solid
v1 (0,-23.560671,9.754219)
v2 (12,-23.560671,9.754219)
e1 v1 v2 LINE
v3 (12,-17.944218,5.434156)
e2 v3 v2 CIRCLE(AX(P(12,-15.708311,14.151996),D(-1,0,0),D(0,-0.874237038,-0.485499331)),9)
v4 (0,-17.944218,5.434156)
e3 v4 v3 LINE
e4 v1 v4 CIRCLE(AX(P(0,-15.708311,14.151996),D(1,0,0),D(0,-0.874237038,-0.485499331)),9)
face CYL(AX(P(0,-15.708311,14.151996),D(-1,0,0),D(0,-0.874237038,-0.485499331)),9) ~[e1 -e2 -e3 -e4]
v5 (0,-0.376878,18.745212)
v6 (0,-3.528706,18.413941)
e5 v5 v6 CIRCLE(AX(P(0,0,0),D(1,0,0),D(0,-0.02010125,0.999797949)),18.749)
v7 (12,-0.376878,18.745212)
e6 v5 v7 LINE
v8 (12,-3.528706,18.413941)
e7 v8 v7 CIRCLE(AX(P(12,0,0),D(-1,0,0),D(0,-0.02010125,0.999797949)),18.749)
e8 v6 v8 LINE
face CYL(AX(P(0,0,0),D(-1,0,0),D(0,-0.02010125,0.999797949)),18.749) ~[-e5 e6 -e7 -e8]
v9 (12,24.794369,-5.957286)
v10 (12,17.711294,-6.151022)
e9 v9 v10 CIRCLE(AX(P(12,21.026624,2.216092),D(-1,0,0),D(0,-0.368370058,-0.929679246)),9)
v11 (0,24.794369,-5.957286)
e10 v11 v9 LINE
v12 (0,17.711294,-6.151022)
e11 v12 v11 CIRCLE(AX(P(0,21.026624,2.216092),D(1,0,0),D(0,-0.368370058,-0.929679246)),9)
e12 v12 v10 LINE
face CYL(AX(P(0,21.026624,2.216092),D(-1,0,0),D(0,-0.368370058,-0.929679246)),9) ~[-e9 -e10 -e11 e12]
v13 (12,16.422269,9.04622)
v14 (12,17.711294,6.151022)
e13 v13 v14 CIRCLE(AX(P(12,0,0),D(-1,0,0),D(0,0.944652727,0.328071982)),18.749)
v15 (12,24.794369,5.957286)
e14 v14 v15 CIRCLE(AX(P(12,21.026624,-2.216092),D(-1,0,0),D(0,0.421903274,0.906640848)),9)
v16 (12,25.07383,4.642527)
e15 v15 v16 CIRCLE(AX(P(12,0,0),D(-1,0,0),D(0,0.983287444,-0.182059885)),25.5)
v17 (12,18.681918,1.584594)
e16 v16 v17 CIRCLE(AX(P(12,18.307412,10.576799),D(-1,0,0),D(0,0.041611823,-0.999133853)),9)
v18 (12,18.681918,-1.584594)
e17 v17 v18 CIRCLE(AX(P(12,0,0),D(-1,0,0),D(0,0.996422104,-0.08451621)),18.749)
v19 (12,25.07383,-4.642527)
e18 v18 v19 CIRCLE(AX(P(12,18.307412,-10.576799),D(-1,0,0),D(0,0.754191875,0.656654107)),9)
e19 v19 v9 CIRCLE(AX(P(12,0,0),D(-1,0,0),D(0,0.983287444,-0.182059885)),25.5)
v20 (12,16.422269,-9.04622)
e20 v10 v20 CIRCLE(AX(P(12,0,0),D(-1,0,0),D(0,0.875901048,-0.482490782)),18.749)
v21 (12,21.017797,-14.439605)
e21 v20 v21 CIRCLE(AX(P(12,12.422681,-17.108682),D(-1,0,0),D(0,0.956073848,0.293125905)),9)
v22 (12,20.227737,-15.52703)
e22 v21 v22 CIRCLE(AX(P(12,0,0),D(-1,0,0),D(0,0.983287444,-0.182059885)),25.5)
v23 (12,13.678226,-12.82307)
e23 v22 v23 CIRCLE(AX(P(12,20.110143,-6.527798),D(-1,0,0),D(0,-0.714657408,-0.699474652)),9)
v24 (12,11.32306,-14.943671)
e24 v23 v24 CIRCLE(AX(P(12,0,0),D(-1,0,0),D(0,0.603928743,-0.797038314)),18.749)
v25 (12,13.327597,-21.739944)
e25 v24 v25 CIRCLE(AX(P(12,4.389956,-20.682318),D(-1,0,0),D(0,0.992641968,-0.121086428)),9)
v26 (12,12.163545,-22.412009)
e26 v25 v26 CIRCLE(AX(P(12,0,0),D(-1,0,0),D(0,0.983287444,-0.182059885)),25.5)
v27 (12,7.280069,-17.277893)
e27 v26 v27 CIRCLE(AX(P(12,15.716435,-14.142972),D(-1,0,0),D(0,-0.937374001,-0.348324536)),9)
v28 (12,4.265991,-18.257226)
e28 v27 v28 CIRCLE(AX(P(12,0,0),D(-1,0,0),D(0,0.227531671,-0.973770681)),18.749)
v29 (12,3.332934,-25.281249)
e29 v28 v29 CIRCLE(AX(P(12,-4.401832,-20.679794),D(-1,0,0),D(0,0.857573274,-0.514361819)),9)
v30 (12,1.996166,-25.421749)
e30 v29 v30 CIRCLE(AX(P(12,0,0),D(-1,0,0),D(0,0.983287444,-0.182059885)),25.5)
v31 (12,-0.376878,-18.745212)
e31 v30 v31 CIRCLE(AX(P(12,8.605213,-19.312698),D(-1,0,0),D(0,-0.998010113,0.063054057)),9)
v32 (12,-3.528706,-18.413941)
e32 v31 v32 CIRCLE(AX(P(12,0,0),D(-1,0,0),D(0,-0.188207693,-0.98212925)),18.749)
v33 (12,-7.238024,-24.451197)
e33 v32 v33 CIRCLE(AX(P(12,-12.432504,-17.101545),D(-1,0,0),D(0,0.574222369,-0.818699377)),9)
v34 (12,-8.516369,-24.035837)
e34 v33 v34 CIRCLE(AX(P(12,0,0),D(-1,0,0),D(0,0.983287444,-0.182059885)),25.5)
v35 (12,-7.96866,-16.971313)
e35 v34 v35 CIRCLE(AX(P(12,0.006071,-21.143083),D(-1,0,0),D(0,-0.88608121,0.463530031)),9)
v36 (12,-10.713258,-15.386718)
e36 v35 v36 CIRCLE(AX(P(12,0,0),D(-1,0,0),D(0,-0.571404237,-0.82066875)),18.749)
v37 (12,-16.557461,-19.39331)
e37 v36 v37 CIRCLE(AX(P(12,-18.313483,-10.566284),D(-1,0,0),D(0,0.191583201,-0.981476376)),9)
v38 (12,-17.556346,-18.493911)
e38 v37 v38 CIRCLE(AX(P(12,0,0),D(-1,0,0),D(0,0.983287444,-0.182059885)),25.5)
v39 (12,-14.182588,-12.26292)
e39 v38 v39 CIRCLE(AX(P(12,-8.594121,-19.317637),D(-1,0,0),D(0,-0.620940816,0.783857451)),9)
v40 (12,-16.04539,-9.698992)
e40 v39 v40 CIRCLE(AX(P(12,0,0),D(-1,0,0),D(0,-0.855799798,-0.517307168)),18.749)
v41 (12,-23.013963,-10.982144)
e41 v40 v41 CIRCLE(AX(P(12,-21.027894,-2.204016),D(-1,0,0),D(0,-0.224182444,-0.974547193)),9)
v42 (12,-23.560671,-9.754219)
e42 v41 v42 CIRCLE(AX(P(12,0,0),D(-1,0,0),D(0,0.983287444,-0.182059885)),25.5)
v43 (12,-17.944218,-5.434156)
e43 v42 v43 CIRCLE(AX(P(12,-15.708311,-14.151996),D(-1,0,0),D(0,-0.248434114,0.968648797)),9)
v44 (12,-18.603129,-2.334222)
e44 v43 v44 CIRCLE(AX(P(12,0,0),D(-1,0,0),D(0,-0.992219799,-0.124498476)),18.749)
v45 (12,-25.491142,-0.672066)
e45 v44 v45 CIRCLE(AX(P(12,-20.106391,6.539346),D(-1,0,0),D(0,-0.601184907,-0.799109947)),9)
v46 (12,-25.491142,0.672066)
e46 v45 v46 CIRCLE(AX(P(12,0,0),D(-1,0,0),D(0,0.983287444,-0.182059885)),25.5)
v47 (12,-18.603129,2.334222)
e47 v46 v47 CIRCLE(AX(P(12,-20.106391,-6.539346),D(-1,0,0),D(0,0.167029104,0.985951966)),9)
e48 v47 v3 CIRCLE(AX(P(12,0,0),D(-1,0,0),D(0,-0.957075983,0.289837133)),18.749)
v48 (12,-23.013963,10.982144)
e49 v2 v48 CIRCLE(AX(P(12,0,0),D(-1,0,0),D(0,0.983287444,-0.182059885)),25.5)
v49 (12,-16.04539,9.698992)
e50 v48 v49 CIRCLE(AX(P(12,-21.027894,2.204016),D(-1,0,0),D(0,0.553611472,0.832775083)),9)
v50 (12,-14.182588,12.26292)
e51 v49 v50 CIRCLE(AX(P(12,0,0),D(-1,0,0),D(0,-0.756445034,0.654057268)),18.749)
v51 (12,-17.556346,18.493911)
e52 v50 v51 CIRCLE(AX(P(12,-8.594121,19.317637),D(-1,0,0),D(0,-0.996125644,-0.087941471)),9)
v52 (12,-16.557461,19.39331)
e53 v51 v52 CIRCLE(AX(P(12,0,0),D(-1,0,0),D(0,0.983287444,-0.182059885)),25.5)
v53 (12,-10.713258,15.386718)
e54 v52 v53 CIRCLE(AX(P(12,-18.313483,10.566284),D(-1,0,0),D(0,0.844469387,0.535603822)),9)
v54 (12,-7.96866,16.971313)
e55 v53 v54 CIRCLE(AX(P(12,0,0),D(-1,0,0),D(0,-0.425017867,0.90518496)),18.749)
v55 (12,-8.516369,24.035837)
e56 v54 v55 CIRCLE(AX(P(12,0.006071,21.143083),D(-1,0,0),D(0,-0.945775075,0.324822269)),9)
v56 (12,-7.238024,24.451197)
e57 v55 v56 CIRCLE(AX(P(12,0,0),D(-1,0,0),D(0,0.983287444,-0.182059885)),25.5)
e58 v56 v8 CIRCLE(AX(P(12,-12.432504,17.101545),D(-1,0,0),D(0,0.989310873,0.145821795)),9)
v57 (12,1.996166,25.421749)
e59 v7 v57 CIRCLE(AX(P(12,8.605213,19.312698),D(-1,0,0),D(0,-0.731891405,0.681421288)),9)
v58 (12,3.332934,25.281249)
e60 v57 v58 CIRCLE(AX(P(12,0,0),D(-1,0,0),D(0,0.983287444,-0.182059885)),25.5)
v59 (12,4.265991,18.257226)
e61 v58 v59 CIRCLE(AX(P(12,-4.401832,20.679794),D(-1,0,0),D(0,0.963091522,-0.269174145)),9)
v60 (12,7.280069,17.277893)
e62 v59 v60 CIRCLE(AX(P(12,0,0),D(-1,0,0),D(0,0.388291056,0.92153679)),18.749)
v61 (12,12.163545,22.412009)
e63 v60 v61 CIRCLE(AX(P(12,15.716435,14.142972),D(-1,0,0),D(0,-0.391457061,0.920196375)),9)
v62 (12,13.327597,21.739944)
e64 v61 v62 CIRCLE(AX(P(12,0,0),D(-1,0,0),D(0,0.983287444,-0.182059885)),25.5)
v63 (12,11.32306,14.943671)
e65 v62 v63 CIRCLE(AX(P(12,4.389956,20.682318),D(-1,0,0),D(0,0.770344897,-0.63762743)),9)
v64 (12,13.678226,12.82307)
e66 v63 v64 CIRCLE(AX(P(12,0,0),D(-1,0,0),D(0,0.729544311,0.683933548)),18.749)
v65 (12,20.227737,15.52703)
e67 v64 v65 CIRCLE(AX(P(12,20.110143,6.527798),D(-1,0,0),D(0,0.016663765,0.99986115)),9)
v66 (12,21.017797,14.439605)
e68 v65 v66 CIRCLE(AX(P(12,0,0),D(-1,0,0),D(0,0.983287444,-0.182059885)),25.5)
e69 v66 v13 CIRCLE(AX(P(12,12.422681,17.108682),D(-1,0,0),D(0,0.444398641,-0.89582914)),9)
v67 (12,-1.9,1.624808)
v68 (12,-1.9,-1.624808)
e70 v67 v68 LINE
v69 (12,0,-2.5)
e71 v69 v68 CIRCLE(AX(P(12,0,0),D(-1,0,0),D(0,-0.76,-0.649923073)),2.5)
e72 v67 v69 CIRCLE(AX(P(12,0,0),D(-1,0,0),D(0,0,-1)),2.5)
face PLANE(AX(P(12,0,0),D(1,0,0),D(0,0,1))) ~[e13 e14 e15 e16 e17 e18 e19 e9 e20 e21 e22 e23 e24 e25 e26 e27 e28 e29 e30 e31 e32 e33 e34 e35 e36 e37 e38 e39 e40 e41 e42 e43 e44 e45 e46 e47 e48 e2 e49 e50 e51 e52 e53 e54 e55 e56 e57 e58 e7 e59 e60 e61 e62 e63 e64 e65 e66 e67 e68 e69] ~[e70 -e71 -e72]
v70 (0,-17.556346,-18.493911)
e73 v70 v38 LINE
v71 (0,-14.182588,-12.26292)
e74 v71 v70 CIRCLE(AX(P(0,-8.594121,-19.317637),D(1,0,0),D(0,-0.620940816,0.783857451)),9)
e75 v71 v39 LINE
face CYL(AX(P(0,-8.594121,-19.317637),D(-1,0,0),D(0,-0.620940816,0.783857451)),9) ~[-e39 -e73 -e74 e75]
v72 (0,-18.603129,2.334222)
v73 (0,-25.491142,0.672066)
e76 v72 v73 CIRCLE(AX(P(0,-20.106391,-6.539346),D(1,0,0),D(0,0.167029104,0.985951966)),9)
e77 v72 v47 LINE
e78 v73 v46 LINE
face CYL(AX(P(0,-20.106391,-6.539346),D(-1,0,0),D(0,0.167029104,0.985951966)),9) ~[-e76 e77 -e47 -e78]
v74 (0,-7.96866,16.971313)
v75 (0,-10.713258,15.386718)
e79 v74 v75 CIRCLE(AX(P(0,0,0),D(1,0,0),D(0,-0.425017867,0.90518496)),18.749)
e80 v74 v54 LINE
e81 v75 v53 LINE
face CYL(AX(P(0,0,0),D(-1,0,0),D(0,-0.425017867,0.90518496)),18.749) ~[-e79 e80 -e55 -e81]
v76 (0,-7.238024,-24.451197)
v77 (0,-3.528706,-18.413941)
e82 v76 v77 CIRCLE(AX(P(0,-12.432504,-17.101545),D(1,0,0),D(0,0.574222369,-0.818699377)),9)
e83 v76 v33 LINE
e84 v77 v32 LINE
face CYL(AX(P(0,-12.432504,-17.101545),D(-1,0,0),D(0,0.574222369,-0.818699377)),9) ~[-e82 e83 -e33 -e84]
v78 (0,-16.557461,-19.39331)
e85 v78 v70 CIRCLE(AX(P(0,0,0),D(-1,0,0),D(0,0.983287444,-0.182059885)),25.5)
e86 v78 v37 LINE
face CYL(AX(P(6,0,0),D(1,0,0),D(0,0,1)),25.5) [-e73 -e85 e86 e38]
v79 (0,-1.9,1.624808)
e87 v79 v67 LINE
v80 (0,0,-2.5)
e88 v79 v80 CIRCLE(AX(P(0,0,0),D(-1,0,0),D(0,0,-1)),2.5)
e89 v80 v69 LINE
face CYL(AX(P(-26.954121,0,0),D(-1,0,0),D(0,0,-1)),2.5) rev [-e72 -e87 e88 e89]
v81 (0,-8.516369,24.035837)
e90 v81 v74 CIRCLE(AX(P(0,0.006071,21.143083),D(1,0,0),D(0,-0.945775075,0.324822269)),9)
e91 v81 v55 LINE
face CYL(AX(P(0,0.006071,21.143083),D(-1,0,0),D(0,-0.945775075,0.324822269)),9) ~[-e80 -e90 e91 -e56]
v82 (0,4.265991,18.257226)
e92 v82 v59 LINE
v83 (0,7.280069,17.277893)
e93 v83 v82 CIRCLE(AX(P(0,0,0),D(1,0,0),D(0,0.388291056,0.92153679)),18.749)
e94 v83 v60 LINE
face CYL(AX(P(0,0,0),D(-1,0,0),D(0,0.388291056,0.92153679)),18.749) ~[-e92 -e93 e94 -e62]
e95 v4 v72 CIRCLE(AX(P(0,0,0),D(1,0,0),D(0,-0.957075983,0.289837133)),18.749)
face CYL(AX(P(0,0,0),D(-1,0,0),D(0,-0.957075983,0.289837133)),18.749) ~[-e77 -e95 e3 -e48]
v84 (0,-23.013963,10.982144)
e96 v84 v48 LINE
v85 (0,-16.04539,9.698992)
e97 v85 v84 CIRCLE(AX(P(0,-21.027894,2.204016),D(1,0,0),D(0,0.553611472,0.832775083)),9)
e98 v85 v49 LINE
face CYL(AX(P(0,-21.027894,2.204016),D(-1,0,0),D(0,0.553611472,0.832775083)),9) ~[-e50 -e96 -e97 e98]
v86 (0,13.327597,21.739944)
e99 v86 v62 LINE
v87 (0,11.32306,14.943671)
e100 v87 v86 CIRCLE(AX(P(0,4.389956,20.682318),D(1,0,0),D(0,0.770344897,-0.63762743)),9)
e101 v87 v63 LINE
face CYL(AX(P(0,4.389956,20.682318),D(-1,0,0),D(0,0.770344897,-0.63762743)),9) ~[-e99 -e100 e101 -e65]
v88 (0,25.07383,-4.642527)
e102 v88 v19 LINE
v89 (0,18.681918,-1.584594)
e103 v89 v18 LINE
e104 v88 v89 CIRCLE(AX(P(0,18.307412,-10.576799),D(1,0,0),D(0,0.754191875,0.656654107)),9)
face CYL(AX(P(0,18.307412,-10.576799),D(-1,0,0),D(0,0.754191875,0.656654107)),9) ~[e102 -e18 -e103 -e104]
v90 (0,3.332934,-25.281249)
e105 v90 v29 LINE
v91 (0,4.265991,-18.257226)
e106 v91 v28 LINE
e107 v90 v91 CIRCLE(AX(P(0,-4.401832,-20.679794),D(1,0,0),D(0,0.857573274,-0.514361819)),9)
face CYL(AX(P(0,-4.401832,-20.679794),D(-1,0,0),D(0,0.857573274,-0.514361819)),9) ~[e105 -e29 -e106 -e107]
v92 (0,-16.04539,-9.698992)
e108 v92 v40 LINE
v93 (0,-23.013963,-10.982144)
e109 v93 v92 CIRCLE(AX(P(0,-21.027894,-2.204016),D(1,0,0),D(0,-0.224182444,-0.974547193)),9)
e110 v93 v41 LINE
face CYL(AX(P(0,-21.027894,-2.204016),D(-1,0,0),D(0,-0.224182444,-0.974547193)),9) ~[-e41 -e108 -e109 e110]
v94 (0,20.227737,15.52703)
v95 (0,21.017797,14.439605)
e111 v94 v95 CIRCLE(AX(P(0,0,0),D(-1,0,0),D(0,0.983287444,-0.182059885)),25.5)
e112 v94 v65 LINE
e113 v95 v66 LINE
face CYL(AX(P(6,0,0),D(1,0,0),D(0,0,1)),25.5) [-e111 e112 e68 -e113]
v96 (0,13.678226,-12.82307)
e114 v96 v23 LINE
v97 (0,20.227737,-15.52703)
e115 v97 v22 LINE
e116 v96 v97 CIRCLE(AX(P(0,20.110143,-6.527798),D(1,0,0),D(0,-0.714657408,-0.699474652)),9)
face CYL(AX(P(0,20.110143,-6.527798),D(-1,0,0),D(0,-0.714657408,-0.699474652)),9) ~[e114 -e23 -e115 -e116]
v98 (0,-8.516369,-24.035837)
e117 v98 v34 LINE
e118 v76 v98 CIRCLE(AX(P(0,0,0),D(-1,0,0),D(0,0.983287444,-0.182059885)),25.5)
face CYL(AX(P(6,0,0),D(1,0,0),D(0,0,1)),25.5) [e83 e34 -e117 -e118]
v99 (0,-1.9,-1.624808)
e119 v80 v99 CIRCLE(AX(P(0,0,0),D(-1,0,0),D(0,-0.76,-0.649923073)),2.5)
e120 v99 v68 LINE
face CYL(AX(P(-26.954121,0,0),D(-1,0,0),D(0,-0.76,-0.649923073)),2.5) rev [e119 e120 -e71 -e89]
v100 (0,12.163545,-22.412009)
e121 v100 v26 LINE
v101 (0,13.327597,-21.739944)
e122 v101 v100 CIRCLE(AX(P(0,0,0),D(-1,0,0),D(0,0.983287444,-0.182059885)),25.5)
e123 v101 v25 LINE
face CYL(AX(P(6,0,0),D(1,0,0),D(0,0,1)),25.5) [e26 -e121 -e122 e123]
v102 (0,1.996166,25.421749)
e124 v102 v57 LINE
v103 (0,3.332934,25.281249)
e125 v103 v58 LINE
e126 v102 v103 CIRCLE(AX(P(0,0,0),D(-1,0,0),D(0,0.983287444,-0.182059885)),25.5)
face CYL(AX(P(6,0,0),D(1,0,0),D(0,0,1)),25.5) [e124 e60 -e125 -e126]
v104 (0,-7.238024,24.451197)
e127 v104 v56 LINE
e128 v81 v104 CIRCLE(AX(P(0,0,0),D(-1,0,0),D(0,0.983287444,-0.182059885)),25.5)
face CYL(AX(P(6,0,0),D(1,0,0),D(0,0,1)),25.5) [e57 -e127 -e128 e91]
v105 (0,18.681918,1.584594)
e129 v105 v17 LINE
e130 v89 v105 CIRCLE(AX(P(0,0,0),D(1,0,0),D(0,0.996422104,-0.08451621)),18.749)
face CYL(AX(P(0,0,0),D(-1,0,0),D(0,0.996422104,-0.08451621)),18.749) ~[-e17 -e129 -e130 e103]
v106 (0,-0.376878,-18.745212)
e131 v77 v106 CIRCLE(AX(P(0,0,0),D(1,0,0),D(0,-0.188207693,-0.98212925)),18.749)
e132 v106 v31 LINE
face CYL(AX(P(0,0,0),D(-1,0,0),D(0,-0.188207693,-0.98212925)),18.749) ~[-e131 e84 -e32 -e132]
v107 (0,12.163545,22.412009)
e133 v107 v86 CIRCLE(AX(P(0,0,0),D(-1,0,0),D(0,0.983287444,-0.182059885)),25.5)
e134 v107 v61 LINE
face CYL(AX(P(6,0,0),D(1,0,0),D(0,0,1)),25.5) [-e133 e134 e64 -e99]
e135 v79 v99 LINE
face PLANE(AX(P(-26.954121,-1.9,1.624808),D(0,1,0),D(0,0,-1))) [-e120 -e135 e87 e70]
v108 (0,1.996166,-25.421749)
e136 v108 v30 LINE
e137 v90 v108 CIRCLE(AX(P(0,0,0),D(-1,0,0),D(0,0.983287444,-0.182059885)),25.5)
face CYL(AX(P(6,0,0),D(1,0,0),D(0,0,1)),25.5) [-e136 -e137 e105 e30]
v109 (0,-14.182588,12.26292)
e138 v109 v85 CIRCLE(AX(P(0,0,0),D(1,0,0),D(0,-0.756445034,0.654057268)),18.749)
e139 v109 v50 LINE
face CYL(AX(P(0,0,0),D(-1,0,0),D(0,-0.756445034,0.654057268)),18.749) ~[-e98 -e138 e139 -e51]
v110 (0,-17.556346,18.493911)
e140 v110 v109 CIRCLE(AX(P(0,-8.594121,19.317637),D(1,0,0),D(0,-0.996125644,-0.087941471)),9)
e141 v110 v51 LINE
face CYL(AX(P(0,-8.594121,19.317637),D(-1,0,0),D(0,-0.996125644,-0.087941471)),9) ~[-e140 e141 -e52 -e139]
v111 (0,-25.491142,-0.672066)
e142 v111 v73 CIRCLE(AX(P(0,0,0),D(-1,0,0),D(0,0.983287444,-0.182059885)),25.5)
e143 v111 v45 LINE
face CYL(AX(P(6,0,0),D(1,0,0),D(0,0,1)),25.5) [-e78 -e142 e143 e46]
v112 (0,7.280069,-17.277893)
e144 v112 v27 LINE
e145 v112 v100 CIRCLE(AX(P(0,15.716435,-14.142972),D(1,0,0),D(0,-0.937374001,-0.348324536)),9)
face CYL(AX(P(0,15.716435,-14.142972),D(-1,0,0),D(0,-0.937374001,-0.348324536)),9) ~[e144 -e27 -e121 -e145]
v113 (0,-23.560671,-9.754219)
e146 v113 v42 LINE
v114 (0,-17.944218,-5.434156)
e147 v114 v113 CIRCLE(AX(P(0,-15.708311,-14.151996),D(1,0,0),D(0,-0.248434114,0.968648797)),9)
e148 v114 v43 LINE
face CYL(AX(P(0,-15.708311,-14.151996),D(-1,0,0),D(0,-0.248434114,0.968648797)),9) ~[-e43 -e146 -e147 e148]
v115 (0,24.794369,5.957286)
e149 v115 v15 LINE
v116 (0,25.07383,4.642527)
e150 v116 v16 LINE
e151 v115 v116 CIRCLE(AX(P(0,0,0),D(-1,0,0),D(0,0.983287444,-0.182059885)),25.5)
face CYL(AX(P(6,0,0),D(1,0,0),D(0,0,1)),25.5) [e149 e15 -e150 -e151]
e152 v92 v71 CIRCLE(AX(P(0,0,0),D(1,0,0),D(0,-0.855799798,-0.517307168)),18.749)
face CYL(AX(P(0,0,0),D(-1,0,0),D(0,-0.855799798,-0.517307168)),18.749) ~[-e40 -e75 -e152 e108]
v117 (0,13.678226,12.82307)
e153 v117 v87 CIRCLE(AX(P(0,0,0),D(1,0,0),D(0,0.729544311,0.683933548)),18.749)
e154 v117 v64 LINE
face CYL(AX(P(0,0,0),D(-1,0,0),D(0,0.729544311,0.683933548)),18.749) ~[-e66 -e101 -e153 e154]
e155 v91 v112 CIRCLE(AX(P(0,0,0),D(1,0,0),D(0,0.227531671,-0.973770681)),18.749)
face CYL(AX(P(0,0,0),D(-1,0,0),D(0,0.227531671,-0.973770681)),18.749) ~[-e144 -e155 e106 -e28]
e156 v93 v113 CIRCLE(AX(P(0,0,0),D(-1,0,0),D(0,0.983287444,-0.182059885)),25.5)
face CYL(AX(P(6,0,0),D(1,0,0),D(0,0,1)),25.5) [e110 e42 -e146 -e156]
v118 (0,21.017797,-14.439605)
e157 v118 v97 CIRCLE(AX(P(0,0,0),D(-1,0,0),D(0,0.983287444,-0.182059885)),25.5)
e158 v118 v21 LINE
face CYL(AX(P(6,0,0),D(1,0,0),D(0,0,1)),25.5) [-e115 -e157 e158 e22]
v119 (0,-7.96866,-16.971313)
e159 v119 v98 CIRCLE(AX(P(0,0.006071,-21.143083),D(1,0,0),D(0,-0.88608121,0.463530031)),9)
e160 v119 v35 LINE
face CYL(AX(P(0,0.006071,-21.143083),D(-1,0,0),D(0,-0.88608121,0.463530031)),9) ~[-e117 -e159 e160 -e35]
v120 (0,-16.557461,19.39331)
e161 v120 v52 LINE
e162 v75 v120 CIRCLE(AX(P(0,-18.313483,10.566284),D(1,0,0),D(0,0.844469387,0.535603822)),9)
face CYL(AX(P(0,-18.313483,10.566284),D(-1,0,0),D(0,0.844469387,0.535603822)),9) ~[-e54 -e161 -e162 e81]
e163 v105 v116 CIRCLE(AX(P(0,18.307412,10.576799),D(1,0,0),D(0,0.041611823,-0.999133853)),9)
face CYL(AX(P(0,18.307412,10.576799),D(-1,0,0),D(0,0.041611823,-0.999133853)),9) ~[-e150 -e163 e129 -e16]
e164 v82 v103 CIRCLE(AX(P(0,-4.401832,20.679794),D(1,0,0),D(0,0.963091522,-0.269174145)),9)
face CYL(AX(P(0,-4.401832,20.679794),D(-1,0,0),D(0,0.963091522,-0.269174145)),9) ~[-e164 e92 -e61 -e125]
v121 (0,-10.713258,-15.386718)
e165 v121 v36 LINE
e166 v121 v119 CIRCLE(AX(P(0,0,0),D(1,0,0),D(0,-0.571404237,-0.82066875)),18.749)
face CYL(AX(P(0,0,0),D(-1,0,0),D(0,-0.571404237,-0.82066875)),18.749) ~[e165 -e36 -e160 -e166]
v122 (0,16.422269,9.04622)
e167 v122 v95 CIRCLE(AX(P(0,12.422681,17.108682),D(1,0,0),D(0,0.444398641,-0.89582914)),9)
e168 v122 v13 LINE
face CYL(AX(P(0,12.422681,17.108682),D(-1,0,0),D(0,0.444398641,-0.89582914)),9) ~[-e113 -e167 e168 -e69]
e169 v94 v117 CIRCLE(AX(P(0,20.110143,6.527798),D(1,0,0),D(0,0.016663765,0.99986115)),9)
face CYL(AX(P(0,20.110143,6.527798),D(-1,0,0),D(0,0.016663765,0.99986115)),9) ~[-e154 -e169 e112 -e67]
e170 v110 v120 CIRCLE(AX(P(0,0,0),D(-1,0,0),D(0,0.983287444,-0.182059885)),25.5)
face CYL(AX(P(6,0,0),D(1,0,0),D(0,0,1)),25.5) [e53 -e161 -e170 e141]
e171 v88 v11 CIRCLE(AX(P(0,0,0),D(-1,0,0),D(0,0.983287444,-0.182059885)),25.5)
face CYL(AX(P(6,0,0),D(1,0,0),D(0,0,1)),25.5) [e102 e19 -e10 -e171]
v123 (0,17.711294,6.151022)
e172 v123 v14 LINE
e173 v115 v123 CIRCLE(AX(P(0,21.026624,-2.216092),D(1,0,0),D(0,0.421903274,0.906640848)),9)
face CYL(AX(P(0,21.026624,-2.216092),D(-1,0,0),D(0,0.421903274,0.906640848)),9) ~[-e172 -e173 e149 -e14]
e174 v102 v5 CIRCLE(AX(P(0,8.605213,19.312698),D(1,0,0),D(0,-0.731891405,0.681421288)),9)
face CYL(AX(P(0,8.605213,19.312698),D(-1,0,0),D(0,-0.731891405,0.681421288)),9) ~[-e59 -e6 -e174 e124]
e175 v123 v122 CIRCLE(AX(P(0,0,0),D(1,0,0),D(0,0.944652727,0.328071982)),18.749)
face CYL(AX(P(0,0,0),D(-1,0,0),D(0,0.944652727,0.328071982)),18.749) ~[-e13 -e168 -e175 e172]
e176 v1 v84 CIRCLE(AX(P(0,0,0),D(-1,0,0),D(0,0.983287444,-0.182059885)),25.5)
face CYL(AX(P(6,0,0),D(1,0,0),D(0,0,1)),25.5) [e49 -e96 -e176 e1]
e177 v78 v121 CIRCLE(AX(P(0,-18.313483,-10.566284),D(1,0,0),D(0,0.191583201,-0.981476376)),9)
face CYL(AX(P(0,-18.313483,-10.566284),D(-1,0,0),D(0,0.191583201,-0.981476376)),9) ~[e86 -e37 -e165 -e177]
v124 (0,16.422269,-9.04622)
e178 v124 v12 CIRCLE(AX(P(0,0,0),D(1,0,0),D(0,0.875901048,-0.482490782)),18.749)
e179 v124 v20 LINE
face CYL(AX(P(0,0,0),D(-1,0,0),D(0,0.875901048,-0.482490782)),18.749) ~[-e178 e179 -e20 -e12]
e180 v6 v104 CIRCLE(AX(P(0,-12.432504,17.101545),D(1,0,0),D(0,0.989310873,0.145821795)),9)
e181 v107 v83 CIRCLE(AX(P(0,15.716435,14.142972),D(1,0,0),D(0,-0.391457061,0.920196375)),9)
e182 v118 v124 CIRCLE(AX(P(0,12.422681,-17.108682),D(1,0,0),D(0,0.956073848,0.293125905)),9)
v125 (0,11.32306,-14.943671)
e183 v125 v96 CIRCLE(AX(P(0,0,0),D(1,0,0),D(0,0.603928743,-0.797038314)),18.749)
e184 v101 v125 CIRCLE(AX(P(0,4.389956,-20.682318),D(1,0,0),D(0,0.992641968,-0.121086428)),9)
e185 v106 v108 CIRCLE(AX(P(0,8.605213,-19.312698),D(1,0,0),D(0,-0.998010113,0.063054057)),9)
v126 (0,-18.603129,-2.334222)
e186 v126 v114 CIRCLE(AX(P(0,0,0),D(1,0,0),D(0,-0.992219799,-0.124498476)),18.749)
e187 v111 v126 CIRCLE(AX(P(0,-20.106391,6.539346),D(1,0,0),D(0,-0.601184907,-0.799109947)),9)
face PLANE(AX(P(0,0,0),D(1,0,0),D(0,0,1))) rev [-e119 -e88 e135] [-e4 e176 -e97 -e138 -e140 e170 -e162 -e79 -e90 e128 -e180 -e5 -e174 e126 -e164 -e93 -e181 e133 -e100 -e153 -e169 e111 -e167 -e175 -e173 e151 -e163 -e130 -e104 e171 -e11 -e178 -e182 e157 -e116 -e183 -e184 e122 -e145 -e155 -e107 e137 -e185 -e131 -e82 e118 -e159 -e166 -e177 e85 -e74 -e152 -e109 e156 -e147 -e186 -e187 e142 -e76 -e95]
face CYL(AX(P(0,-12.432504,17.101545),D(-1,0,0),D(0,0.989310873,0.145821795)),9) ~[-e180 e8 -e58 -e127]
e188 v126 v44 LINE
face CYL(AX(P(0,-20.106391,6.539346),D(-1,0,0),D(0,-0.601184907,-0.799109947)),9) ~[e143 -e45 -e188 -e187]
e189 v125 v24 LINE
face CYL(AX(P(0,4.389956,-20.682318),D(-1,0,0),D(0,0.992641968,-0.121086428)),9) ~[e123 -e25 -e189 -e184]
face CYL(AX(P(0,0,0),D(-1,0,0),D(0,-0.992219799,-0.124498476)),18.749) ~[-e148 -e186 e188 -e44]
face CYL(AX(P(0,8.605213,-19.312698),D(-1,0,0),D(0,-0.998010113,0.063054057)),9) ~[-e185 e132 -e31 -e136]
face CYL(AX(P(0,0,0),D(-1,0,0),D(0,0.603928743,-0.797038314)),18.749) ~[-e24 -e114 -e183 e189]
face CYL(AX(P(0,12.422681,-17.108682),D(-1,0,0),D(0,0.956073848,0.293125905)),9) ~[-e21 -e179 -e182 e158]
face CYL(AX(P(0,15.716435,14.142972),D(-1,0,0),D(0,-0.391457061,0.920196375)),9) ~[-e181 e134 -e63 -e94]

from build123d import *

# Parameters (mm, degrees)
BASPROSKE_W             = 12
BASPROSKE_H             = 25.5
TOOTHCUT_DEPTH          = 39.006578378
TEETHCUTS_COUNT         = 15
TEETHCUTS_ANGLE         = 336
BORSKE_R                = 0.4
BORE_DEPTH              = 50.0000508
CUT_EXTRUDE1_DEPTH      = 38.954121274
CUT_EXTRUDE1_DEPTH_BACK = 38.954121274


with BuildPart() as part:
    # BasProSke → Base-Revolve (revolve)
    with BuildSketch(Plane(origin=(0, 0, 0), x_dir=(1, 0, 0), z_dir=(0, 1, 0)), mode=Mode.PRIVATE) as base_revolve_sk:
        with Locations((6, 12.75)):
            Rectangle(BASPROSKE_W, BASPROSKE_H)
    revolve(base_revolve_sk.sketch.rotate(Axis((-10, 0, 0), (1, 0, 0)), 180), axis=Axis((-10, 0, 0), (1, 0, 0)))

    # TooCutSke → ToothCut (cut, through all)
    with BuildSketch(Plane(origin=(0, 0, 0), x_dir=(0, 0, -1), z_dir=(1, 0, 0))):
        with BuildLine():
            ThreePointArc((1.584594428, 18.681918036), (0, 18.749), (-1.584594428, 18.681918036))
            ThreePointArc((-1.584594428, 18.681918036), (-2.465052499, 22.206073835), (-4.666912141, 25.095138498))
            ThreePointArc((-4.666912141, 25.095138498), (0, 25.5254), (4.666912141, 25.095138498))
            ThreePointArc((4.666912141, 25.095138498), (2.465052499, 22.206073835), (1.584594428, 18.681918036))
        make_face()
    toothcut = extrude(amount=TOOTHCUT_DEPTH, mode=Mode.SUBTRACT)

    # TeethCuts: ToothCut ×15 about axis
    teethcuts_axis = Axis((-10, 0, 0), (1, 0, 0))
    for i in range(1, TEETHCUTS_COUNT):
        add(toothcut.rotate(teethcuts_axis, i * TEETHCUTS_ANGLE / (TEETHCUTS_COUNT - 1)), mode=Mode.SUBTRACT)

    # BorSke → Bore (cut, symmetric)
    with BuildSketch(Plane(origin=(0, 0, 0), x_dir=(0, 0, -1), z_dir=(1, 0, 0))):
        with Locations(Location((0, 0, 0), (0, 0, 180))):
            Circle(BORSKE_R)
    extrude(amount=BORE_DEPTH, both=True, mode=Mode.SUBTRACT)

    # Sketch1 → Cut-Extrude1 (cut, two sides: drawn at the far end of the back side and taken through both)
    with BuildSketch(Plane(origin=(12, 0, 0), x_dir=(0, 0, -1), z_dir=(1, 0, 0)).offset(-CUT_EXTRUDE1_DEPTH_BACK)):
        with BuildLine():
            ThreePointArc((2.5, 0), (-1.045939959, 2.270684831), (-1.624807681, -1.9))
            Line((-1.624807681, -1.9), (1.624807681, -1.9))
            ThreePointArc((1.624807681, -1.9), (2.270684831, -1.045939959), (2.5, 0))
        make_face()
    extrude(amount=CUT_EXTRUDE1_DEPTH + CUT_EXTRUDE1_DEPTH_BACK, mode=Mode.SUBTRACT)


solid = part.part
